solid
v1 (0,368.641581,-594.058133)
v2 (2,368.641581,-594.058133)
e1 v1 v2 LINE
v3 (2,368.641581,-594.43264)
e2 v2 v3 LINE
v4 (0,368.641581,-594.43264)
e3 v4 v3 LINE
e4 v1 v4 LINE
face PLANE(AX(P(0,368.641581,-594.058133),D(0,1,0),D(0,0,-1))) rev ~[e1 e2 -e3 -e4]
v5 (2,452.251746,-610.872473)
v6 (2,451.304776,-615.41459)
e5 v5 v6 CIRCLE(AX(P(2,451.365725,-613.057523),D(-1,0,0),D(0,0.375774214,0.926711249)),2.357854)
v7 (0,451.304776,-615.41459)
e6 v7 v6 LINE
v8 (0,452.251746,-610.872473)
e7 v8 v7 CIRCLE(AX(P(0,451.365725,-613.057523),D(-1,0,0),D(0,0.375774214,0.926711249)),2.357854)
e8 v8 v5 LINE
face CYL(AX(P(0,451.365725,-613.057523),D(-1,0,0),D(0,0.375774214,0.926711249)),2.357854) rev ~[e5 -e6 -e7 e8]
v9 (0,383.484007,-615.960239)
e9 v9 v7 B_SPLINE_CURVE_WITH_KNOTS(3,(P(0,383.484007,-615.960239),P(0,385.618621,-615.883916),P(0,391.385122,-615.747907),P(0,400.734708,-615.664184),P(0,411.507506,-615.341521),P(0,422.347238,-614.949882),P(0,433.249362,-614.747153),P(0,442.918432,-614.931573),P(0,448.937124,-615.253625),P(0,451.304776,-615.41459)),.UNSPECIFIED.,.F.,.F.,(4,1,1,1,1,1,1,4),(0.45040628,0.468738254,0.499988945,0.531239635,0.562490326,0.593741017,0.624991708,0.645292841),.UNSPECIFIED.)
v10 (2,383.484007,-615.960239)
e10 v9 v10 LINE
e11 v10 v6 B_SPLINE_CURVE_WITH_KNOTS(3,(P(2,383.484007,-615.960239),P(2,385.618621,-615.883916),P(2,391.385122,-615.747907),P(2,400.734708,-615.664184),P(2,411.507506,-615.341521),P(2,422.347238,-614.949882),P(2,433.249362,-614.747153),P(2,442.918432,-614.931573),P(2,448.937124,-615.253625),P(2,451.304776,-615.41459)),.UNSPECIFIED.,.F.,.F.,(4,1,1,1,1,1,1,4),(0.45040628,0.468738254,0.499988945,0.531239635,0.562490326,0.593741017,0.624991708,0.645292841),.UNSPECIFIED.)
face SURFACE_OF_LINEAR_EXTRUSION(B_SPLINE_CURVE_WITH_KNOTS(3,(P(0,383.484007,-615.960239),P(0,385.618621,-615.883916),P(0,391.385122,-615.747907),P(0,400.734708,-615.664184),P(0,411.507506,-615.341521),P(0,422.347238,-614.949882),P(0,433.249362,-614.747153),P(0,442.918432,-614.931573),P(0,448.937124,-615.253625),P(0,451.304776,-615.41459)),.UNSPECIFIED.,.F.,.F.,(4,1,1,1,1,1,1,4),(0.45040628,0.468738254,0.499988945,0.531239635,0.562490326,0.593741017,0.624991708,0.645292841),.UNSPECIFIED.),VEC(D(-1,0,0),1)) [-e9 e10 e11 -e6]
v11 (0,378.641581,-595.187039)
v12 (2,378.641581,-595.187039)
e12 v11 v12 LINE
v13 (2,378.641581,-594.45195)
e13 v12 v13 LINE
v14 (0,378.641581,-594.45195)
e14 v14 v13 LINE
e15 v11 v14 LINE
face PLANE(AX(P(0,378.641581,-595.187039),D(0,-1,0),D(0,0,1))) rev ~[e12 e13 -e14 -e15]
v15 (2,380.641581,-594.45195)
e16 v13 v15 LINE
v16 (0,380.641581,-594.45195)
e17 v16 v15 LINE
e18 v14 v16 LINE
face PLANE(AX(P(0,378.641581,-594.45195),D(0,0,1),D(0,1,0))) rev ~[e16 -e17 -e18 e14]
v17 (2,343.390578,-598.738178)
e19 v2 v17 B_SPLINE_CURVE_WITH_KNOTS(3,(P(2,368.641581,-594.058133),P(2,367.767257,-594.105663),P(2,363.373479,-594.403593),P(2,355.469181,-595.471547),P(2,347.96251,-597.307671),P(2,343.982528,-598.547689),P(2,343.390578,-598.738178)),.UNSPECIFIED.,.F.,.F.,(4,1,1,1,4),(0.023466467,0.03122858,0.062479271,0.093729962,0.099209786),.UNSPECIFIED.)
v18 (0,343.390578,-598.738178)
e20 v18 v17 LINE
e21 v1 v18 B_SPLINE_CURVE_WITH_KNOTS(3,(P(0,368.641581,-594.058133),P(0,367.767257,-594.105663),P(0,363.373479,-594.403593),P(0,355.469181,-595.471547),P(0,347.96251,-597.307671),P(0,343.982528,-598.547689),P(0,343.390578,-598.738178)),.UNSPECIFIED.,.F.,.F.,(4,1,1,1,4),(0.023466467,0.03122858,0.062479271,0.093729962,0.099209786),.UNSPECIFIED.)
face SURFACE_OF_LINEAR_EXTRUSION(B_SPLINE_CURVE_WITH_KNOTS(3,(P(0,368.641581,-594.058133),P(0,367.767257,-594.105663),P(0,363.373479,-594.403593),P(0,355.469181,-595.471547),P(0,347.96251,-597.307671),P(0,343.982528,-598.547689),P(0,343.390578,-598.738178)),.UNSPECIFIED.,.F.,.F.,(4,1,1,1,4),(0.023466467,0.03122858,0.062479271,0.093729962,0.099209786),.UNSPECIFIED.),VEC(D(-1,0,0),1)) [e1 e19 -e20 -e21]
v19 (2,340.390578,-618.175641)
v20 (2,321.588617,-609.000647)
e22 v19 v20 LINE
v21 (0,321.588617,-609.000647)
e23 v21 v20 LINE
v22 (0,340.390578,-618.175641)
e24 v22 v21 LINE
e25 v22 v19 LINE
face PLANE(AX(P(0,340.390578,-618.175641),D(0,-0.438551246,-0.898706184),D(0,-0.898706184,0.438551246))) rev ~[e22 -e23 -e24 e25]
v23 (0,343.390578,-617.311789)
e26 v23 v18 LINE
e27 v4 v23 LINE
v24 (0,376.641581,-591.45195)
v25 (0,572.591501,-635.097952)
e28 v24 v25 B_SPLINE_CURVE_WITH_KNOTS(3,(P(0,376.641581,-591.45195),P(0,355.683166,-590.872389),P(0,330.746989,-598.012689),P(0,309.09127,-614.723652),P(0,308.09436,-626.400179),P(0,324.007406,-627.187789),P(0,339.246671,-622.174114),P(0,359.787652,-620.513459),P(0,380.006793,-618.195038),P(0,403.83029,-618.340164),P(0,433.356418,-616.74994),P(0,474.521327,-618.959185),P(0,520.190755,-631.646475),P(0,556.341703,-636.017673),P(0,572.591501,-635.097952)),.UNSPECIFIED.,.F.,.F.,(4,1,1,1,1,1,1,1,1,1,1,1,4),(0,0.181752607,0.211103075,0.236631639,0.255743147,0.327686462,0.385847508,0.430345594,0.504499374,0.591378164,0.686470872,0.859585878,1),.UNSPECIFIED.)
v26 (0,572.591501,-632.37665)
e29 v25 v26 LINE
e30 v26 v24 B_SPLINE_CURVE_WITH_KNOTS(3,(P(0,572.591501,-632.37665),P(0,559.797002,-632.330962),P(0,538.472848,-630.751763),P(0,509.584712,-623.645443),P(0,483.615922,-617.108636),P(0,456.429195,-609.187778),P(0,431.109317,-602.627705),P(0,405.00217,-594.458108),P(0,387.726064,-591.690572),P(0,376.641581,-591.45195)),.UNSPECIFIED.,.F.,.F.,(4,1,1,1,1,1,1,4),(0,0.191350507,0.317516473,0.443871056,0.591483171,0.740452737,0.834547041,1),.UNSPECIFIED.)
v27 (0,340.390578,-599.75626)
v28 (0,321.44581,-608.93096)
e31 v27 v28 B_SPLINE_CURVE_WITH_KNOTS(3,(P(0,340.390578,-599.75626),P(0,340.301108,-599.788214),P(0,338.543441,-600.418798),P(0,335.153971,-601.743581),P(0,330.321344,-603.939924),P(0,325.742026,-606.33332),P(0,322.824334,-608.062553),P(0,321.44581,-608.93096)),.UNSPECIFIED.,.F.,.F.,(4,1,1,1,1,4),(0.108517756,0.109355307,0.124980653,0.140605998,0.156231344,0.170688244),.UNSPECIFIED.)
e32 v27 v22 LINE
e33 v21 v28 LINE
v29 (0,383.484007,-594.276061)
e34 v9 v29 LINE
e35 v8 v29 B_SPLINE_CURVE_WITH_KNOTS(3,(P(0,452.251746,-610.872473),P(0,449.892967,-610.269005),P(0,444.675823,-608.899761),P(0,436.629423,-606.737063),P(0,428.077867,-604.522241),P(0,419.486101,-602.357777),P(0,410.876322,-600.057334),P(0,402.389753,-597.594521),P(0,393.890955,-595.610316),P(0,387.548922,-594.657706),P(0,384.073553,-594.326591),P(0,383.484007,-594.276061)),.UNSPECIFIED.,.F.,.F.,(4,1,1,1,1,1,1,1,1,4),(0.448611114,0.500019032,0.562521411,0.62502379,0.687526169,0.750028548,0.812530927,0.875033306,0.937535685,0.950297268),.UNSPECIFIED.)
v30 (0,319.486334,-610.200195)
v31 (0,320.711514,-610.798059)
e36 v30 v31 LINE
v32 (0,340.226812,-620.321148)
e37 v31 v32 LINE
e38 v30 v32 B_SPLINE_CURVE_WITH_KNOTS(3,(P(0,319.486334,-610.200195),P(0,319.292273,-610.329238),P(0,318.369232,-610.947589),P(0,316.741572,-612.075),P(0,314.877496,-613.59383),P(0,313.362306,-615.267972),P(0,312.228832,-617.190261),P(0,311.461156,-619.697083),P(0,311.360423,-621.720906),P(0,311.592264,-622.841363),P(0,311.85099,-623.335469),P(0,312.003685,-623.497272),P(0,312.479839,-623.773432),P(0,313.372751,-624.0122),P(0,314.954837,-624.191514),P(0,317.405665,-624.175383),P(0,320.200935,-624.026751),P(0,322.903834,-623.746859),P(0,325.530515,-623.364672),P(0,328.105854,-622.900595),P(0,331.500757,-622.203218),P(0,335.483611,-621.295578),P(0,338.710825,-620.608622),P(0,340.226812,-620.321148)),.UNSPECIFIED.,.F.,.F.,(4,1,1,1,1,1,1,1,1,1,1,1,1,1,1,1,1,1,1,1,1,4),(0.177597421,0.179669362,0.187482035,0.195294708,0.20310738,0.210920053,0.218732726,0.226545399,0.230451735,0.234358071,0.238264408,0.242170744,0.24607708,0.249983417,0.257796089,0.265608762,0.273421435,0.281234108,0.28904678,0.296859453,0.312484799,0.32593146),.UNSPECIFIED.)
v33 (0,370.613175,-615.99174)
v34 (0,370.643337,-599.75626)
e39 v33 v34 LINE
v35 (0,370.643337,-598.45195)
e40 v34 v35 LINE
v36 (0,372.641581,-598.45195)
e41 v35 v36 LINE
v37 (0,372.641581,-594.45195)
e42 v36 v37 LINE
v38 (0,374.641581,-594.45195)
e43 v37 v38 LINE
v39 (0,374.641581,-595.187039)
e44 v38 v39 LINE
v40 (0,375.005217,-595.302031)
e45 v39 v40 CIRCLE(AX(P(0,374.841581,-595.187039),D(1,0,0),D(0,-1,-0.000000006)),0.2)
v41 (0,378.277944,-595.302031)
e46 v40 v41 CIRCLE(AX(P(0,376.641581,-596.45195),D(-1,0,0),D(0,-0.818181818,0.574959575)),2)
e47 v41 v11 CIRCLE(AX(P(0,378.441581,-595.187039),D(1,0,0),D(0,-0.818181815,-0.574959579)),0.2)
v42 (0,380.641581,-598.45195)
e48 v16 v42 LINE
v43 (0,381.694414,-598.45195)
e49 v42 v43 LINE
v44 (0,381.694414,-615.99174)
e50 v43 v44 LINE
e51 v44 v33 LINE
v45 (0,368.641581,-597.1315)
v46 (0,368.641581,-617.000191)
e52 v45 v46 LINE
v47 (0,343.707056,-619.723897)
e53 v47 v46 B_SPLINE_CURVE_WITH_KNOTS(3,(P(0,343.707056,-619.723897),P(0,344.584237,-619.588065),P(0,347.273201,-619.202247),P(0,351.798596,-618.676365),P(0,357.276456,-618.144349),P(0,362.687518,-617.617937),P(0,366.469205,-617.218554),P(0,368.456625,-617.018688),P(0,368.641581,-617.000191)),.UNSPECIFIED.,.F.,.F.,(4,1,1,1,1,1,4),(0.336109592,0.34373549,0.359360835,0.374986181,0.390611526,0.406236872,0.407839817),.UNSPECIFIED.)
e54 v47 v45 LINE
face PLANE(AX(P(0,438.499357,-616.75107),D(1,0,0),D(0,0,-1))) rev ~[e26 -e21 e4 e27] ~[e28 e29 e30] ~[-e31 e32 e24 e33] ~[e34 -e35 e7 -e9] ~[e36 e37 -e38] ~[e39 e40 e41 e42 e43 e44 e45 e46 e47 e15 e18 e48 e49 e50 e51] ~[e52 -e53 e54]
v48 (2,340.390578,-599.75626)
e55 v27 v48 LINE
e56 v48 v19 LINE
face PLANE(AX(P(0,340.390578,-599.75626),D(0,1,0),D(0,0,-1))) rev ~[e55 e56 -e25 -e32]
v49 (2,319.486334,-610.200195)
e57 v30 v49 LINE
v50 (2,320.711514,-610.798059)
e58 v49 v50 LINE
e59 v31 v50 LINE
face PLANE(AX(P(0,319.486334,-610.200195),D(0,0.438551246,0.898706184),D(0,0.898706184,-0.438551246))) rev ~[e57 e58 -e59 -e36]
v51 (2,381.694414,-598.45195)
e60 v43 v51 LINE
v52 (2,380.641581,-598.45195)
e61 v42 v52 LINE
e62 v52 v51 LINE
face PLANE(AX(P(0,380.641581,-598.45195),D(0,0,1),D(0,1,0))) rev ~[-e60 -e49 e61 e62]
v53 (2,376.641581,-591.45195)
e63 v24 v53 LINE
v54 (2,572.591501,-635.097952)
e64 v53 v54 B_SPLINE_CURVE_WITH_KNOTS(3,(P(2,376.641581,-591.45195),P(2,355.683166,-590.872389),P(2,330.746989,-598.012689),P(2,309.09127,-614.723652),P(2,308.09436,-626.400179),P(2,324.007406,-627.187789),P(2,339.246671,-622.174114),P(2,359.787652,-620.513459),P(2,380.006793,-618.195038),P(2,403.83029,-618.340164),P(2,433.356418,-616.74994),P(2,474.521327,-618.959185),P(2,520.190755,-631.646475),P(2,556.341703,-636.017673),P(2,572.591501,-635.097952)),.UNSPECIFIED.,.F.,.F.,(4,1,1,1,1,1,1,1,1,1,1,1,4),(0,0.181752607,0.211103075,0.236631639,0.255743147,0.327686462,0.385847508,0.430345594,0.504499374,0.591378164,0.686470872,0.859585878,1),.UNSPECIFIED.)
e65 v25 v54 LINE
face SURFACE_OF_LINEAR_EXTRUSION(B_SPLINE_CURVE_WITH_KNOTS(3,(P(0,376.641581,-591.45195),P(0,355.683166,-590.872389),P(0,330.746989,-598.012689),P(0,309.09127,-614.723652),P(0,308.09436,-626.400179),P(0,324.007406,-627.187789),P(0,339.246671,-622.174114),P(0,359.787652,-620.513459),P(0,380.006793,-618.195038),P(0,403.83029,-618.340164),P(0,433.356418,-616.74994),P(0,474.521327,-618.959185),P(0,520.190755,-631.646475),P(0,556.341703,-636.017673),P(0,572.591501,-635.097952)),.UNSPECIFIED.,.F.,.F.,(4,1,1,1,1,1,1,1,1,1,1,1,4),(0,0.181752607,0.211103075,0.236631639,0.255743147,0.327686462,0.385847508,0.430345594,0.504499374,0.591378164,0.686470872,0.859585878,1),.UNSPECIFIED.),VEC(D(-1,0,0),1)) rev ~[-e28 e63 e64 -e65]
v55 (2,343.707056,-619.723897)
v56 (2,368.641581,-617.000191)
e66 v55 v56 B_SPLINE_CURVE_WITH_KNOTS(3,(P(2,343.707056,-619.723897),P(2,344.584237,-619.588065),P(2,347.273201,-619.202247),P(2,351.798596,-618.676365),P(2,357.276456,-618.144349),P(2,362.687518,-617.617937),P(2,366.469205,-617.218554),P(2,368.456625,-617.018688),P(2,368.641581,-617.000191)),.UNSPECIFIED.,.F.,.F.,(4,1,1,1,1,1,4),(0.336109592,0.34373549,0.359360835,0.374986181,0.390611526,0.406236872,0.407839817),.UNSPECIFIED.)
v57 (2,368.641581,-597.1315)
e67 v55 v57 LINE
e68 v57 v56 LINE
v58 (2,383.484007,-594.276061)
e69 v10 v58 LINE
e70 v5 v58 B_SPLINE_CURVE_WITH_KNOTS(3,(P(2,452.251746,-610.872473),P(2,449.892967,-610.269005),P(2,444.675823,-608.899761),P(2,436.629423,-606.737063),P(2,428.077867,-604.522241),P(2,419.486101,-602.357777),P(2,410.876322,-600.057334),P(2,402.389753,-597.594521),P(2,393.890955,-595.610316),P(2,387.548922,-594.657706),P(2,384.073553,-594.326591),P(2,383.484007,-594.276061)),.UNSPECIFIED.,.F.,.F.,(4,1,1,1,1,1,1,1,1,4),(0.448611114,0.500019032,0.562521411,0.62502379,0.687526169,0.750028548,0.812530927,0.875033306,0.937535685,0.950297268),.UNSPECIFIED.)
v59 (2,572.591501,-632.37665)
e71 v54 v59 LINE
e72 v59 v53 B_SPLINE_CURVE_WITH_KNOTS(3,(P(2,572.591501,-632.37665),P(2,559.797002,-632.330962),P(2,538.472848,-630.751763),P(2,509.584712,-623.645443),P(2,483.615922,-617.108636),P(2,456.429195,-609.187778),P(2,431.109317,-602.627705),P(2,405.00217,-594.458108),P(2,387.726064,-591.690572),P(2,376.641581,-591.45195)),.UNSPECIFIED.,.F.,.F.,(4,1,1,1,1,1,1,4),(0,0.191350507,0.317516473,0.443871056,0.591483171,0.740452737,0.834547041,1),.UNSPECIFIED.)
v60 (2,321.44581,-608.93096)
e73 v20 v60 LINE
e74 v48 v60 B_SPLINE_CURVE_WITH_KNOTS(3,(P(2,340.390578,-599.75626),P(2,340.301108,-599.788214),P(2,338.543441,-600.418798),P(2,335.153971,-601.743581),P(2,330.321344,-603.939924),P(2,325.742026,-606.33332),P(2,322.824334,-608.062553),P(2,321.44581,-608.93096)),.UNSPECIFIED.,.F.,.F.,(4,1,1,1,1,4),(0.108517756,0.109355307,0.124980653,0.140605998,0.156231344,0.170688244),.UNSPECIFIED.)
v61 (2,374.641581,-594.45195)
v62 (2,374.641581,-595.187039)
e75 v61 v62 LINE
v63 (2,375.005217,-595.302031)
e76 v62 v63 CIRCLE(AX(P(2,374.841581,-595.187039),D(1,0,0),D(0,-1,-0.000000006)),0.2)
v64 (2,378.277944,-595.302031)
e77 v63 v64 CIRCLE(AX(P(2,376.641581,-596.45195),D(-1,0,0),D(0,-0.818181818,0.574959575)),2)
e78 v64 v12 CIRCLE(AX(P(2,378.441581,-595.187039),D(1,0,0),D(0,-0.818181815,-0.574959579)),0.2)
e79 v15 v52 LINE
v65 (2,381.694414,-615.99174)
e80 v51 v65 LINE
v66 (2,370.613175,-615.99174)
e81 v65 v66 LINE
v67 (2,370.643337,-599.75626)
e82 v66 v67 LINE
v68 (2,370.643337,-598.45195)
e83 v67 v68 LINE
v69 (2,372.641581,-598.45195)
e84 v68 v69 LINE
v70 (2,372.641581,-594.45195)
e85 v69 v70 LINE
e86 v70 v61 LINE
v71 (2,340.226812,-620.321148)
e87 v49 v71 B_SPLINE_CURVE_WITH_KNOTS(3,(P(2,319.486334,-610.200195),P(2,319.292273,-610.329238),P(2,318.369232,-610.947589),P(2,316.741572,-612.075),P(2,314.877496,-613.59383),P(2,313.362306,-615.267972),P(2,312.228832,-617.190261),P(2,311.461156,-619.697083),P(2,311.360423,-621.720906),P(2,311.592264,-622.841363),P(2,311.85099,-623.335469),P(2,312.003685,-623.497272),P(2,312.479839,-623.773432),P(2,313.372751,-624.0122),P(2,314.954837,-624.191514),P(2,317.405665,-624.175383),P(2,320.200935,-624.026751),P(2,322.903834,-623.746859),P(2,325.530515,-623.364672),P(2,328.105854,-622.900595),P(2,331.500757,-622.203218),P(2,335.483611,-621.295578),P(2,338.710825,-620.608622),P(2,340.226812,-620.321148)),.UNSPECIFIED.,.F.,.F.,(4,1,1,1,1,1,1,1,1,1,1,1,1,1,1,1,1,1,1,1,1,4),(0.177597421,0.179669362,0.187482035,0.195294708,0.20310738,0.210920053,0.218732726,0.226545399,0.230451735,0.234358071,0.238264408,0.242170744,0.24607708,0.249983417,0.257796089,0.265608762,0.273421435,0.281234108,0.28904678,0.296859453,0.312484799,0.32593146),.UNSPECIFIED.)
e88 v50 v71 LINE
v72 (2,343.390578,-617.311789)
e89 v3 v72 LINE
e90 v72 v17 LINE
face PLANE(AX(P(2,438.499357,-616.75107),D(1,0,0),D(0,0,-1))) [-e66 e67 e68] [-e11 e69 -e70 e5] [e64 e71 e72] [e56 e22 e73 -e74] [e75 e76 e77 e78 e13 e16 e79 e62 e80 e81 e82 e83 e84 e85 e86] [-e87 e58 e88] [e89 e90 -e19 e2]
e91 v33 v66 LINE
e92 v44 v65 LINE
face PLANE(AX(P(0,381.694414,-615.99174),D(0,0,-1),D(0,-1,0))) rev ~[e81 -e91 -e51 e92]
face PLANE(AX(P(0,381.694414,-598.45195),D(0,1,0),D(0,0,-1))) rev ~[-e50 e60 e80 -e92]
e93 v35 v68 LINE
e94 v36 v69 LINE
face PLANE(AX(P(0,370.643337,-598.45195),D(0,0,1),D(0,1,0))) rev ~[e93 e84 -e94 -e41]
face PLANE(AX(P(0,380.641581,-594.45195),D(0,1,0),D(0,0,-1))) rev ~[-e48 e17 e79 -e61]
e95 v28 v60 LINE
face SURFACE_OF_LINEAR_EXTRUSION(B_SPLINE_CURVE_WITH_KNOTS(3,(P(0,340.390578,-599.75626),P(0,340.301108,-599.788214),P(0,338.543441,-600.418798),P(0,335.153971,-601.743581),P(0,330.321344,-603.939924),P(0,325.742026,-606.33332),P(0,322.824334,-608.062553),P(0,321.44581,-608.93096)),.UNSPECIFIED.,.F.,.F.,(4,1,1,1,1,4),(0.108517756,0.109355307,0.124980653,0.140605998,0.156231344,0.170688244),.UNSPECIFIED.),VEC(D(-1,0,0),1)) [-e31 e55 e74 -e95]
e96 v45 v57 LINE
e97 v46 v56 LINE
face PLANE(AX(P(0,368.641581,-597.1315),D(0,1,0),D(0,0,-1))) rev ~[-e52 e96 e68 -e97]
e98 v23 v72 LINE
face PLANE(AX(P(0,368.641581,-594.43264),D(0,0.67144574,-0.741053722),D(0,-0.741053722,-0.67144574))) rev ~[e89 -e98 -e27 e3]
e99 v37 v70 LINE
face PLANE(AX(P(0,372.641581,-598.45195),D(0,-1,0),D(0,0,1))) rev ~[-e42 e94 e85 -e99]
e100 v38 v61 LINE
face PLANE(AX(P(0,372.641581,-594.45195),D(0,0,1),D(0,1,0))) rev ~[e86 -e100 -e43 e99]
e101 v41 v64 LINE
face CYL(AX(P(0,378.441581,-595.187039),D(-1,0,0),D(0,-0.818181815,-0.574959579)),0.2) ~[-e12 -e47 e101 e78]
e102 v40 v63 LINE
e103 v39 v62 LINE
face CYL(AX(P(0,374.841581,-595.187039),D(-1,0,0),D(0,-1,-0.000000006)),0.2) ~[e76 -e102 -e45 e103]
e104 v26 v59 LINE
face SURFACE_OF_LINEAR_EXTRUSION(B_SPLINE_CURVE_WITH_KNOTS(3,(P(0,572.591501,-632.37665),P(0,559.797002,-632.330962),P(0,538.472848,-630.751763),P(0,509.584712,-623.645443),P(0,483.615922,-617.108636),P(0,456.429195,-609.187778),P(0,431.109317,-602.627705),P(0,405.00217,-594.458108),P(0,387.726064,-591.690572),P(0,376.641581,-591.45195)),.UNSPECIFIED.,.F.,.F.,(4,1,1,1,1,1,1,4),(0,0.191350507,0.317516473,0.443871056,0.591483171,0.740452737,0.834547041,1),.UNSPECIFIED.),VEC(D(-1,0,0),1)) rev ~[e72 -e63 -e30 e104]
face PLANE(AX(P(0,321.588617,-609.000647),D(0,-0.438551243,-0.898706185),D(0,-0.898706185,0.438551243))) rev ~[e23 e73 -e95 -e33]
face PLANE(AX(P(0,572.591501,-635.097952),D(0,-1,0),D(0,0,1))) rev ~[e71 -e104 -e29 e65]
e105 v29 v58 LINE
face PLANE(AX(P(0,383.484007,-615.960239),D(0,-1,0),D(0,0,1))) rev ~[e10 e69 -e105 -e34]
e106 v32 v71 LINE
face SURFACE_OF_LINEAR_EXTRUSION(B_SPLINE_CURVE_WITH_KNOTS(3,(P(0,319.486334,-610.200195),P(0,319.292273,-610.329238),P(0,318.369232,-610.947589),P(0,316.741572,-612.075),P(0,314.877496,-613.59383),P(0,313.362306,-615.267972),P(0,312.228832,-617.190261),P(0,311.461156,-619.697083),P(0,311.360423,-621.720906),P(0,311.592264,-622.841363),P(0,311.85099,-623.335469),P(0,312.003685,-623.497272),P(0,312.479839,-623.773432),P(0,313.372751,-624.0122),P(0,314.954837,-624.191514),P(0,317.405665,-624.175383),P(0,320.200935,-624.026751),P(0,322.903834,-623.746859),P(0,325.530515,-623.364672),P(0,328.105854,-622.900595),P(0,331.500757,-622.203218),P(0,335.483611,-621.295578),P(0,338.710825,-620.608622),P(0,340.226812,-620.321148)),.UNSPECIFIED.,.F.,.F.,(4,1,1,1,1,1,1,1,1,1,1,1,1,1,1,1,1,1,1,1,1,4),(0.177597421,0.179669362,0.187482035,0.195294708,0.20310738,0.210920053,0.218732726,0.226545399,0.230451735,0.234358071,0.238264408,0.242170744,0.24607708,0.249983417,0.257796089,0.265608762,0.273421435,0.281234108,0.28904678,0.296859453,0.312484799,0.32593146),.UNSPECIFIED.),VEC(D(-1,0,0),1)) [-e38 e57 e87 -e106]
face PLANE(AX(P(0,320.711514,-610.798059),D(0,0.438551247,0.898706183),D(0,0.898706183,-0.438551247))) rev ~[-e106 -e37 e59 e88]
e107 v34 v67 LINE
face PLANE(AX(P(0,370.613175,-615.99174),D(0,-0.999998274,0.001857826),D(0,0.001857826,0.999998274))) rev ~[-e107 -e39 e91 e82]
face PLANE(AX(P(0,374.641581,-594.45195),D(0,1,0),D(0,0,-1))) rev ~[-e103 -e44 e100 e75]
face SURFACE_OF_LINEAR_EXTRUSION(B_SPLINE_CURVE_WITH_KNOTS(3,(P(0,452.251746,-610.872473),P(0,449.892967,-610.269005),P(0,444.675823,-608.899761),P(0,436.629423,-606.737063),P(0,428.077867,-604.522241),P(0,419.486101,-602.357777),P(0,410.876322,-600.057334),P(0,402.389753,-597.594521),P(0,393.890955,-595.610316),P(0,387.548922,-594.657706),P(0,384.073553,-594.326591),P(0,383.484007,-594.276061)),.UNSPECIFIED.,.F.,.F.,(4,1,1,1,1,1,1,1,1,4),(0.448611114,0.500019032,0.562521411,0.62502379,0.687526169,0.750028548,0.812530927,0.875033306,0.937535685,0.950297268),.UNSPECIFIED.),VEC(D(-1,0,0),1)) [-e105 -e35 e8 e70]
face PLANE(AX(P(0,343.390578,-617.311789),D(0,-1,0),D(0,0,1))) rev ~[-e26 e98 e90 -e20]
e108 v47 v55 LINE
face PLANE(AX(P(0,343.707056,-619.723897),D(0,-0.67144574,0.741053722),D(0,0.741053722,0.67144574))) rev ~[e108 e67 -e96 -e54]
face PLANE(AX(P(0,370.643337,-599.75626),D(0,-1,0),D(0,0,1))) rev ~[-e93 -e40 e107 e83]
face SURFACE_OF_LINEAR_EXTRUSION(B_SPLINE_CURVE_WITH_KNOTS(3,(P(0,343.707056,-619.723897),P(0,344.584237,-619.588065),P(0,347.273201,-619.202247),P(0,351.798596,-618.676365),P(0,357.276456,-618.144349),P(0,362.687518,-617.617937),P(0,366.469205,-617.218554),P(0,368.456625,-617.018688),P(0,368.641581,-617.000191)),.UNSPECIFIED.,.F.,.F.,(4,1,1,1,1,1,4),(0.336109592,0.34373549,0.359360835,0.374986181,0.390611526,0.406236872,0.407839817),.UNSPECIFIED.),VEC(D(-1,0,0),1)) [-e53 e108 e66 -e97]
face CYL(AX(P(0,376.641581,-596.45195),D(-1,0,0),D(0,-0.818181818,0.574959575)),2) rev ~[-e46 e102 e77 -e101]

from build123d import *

# Parameters (mm, degrees)
BOSS_EXTRUDE6_DEPTH = 2


with BuildPart() as part:
    # Sketch6 → Boss-Extrude6 (new body)
    with BuildSketch(Plane(origin=(0, 0, 0), x_dir=(0, 0, -1), z_dir=(1, 0, 0))):
        with BuildLine():
            add(Edge.make_bspline(
                [(591.451949682, 376.641580619), (590.872388848, 355.683165934), (598.012688593, 330.746988511), (614.723651598, 309.091270023), (626.400178816, 308.094359763), (627.187788502, 324.007406453), (622.17411364, 339.246671451), (620.513458687, 359.78765193), (618.195038142, 380.006793486), (618.340163692, 403.830289977), (616.749939927, 433.356418179), (618.959185324, 474.521327111), (631.646475046, 520.190754683), (636.017672553, 556.341703047), (635.097952039, 572.591500862)],
                knots=[0, 0, 0, 0, 0.181752607, 0.211103075, 0.236631639, 0.255743147, 0.327686462, 0.385847508, 0.430345594, 0.504499374, 0.591378164, 0.686470872, 0.859585878, 1, 1, 1, 1], degree=3))
            Line((635.097952039, 572.591500862), (632.37665032, 572.591500862))
            add(Edge.make_bspline(
                [(632.37665032, 572.591500862), (632.330961932, 559.797001866), (630.75176347, 538.472848259), (623.645443325, 509.584711707), (617.10863586, 483.615922335), (609.187778041, 456.429195327), (602.627705324, 431.109316673), (594.458107799, 405.002169681), (591.69057219, 387.726063657), (591.451949682, 376.641580619)],
                knots=[0, 0, 0, 0, 0.191350507, 0.317516473, 0.443871056, 0.591483171, 0.740452737, 0.834547041, 1, 1, 1, 1], degree=3))
        make_face()
        with BuildLine():
            Line((618.175640549, 340.390577854), (609.000646846, 321.588616515))
            Line((609.000646846, 321.588616515), (608.930960215, 321.445810384))
            add(Edge.make_bspline(
                [(599.756260285, 340.390577852), (599.788214133, 340.301108432), (600.418798067, 338.543441214), (601.743581468, 335.153970586), (603.939923775, 330.321343942), (606.333319555, 325.742025629), (608.062553003, 322.824333795), (608.930960215, 321.445810384)],
                knots=[0.108517756, 0.108517756, 0.108517756, 0.108517756, 0.109355307, 0.124980653, 0.140605998, 0.156231344, 0.170688244, 0.170688244, 0.170688244, 0.170688244], degree=3))
            Line((599.756260285, 340.390577852), (618.175640549, 340.390577854))
        make_face(mode=Mode.SUBTRACT)
        with BuildLine():
            Line((594.058132817, 368.641580619), (594.432640457, 368.641580619))
            Line((594.432640457, 368.641580619), (617.311789075, 343.390577854))
            Line((617.311789075, 343.390577854), (598.738178232, 343.390577854))
            add(Edge.make_bspline(
                [(594.058132817, 368.641580619), (594.105663214, 367.767257096), (594.403593404, 363.373479382), (595.471546921, 355.469180835), (597.307671139, 347.962509935), (598.547688932, 343.982527817), (598.738178232, 343.390577854)],
                knots=[0.023466467, 0.023466467, 0.023466467, 0.023466467, 0.03122858, 0.062479271, 0.093729962, 0.099209786, 0.099209786, 0.099209786, 0.099209786], degree=3))
        make_face(mode=Mode.SUBTRACT)
        with BuildLine():
            Line((597.131500115, 368.641580619), (617.000191215, 368.641580619))
            add(Edge.make_bspline(
                [(619.723897475, 343.707056274), (619.588065425, 344.584237151), (619.202246602, 347.27320119), (618.676364911, 351.798595651), (618.14434935, 357.276455548), (617.61793723, 362.687518014), (617.218553524, 366.469205269), (617.018688127, 368.456625281), (617.000191215, 368.641580619)],
                knots=[0.336109592, 0.336109592, 0.336109592, 0.336109592, 0.34373549, 0.359360835, 0.374986181, 0.390611526, 0.406236872, 0.407839817, 0.407839817, 0.407839817, 0.407839817], degree=3))
            Line((619.723897475, 343.707056274), (597.131500115, 368.641580619))
        make_face(mode=Mode.SUBTRACT)
        with BuildLine():
            Line((615.991740163, 381.694414184), (615.991740163, 380.641580619))
            Line((615.991740163, 380.641580619), (615.991740163, 370.613174516))
            Line((615.991740163, 370.613174516), (599.756260285, 370.643337268))
            Line((599.756260285, 370.643337268), (598.451949682, 370.643337268))
            Line((598.451949682, 370.643337268), (598.451949682, 372.641580619))
            Line((598.451949682, 372.641580619), (594.451949682, 372.641580619))
            Line((594.451949682, 372.641580619), (594.451949682, 374.641580619))
            Line((594.451949682, 374.641580619), (595.187038618, 374.641580619))
            ThreePointArc((595.187038618, 374.641580619), (595.377731135, 374.78127835), (595.302030533, 375.005216983))
            ThreePointArc((595.302030533, 375.005216983), (594.451949682, 376.641580619), (595.302030533, 378.277944256))
            ThreePointArc((595.302030533, 378.277944256), (595.377731135, 378.501882888), (595.187038618, 378.641580619))
            Line((595.187038618, 378.641580619), (594.451949682, 378.641580619))
            Line((594.451949682, 378.641580619), (594.451949682, 380.641580619))
            Line((594.451949682, 380.641580619), (598.451949682, 380.641580619))
            Line((598.451949682, 380.641580619), (598.451949682, 381.694414184))
            Line((598.451949682, 381.694414184), (599.756260285, 381.694414184))
            Line((599.756260285, 381.694414184), (615.991740163, 381.694414184))
        make_face(mode=Mode.SUBTRACT)
        with BuildLine():
            add(Edge.make_bspline(
                [(615.960239376, 383.484006723), (615.883915664, 385.61862146), (615.747907328, 391.385122418), (615.664183638, 400.734707645), (615.34152061, 411.50750606), (614.949882146, 422.347237667), (614.747152851, 433.249362089), (614.931573311, 442.918431524), (615.253624545, 448.937124327), (615.414589942, 451.3047764)],
                knots=[0.45040628, 0.45040628, 0.45040628, 0.45040628, 0.468738254, 0.499988945, 0.531239635, 0.562490326, 0.593741017, 0.624991708, 0.645292841, 0.645292841, 0.645292841, 0.645292841], degree=3))
            Line((615.960239376, 383.484006723), (594.276061182, 383.484006723))
            add(Edge.make_bspline(
                [(610.872473345, 452.251745912), (610.269005103, 449.892967281), (608.899761049, 444.675822661), (606.737063351, 436.629422515), (604.522241225, 428.077866992), (602.357777204, 419.486101285), (600.05733403, 410.876322417), (597.594520531, 402.389753087), (595.610315955, 393.890955055), (594.657705913, 387.548922178), (594.326590544, 384.073552739), (594.276061182, 383.484006723)],
                knots=[0.448611114, 0.448611114, 0.448611114, 0.448611114, 0.500019032, 0.562521411, 0.62502379, 0.687526169, 0.750028548, 0.812530927, 0.875033306, 0.937535685, 0.950297268, 0.950297268, 0.950297268, 0.950297268], degree=3))
            ThreePointArc((610.872473345, 452.251745912), (613.538756498, 453.673947709), (615.414589942, 451.3047764))
        make_face(mode=Mode.SUBTRACT)
        with BuildLine():
            Line((610.200194857, 319.486333617), (610.798059213, 320.711514022))
            Line((610.798059213, 320.711514022), (620.321147624, 340.22681241))
            add(Edge.make_bspline(
                [(610.200194857, 319.486333617), (610.329238139, 319.292273197), (610.94758865, 318.369232226), (612.074999665, 316.741572171), (613.593830136, 314.877496332), (615.267971518, 313.362305554), (617.190260663, 312.22883236), (619.697083128, 311.461156033), (621.720905583, 311.36042338), (622.841363248, 311.592264418), (623.335468961, 311.850989533), (623.497272441, 312.003684935), (623.773431987, 312.479839107), (624.012199505, 313.372750522), (624.191514478, 314.954836637), (624.175383225, 317.405665059), (624.026751297, 320.200934873), (623.746858801, 322.903834088), (623.364672196, 325.530514516), (622.900595426, 328.105854239), (622.203217923, 331.500756755), (621.295577506, 335.483611247), (620.608621672, 338.710824577), (620.321147624, 340.22681241)],
                knots=[0.177597421, 0.177597421, 0.177597421, 0.177597421, 0.179669362, 0.187482035, 0.195294708, 0.20310738, 0.210920053, 0.218732726, 0.226545399, 0.230451735, 0.234358071, 0.238264408, 0.242170744, 0.24607708, 0.249983417, 0.257796089, 0.265608762, 0.273421435, 0.281234108, 0.28904678, 0.296859453, 0.312484799, 0.32593146, 0.32593146, 0.32593146, 0.32593146], degree=3))
        make_face(mode=Mode.SUBTRACT)
    extrude(amount=BOSS_EXTRUDE6_DEPTH)


solid = part.part
